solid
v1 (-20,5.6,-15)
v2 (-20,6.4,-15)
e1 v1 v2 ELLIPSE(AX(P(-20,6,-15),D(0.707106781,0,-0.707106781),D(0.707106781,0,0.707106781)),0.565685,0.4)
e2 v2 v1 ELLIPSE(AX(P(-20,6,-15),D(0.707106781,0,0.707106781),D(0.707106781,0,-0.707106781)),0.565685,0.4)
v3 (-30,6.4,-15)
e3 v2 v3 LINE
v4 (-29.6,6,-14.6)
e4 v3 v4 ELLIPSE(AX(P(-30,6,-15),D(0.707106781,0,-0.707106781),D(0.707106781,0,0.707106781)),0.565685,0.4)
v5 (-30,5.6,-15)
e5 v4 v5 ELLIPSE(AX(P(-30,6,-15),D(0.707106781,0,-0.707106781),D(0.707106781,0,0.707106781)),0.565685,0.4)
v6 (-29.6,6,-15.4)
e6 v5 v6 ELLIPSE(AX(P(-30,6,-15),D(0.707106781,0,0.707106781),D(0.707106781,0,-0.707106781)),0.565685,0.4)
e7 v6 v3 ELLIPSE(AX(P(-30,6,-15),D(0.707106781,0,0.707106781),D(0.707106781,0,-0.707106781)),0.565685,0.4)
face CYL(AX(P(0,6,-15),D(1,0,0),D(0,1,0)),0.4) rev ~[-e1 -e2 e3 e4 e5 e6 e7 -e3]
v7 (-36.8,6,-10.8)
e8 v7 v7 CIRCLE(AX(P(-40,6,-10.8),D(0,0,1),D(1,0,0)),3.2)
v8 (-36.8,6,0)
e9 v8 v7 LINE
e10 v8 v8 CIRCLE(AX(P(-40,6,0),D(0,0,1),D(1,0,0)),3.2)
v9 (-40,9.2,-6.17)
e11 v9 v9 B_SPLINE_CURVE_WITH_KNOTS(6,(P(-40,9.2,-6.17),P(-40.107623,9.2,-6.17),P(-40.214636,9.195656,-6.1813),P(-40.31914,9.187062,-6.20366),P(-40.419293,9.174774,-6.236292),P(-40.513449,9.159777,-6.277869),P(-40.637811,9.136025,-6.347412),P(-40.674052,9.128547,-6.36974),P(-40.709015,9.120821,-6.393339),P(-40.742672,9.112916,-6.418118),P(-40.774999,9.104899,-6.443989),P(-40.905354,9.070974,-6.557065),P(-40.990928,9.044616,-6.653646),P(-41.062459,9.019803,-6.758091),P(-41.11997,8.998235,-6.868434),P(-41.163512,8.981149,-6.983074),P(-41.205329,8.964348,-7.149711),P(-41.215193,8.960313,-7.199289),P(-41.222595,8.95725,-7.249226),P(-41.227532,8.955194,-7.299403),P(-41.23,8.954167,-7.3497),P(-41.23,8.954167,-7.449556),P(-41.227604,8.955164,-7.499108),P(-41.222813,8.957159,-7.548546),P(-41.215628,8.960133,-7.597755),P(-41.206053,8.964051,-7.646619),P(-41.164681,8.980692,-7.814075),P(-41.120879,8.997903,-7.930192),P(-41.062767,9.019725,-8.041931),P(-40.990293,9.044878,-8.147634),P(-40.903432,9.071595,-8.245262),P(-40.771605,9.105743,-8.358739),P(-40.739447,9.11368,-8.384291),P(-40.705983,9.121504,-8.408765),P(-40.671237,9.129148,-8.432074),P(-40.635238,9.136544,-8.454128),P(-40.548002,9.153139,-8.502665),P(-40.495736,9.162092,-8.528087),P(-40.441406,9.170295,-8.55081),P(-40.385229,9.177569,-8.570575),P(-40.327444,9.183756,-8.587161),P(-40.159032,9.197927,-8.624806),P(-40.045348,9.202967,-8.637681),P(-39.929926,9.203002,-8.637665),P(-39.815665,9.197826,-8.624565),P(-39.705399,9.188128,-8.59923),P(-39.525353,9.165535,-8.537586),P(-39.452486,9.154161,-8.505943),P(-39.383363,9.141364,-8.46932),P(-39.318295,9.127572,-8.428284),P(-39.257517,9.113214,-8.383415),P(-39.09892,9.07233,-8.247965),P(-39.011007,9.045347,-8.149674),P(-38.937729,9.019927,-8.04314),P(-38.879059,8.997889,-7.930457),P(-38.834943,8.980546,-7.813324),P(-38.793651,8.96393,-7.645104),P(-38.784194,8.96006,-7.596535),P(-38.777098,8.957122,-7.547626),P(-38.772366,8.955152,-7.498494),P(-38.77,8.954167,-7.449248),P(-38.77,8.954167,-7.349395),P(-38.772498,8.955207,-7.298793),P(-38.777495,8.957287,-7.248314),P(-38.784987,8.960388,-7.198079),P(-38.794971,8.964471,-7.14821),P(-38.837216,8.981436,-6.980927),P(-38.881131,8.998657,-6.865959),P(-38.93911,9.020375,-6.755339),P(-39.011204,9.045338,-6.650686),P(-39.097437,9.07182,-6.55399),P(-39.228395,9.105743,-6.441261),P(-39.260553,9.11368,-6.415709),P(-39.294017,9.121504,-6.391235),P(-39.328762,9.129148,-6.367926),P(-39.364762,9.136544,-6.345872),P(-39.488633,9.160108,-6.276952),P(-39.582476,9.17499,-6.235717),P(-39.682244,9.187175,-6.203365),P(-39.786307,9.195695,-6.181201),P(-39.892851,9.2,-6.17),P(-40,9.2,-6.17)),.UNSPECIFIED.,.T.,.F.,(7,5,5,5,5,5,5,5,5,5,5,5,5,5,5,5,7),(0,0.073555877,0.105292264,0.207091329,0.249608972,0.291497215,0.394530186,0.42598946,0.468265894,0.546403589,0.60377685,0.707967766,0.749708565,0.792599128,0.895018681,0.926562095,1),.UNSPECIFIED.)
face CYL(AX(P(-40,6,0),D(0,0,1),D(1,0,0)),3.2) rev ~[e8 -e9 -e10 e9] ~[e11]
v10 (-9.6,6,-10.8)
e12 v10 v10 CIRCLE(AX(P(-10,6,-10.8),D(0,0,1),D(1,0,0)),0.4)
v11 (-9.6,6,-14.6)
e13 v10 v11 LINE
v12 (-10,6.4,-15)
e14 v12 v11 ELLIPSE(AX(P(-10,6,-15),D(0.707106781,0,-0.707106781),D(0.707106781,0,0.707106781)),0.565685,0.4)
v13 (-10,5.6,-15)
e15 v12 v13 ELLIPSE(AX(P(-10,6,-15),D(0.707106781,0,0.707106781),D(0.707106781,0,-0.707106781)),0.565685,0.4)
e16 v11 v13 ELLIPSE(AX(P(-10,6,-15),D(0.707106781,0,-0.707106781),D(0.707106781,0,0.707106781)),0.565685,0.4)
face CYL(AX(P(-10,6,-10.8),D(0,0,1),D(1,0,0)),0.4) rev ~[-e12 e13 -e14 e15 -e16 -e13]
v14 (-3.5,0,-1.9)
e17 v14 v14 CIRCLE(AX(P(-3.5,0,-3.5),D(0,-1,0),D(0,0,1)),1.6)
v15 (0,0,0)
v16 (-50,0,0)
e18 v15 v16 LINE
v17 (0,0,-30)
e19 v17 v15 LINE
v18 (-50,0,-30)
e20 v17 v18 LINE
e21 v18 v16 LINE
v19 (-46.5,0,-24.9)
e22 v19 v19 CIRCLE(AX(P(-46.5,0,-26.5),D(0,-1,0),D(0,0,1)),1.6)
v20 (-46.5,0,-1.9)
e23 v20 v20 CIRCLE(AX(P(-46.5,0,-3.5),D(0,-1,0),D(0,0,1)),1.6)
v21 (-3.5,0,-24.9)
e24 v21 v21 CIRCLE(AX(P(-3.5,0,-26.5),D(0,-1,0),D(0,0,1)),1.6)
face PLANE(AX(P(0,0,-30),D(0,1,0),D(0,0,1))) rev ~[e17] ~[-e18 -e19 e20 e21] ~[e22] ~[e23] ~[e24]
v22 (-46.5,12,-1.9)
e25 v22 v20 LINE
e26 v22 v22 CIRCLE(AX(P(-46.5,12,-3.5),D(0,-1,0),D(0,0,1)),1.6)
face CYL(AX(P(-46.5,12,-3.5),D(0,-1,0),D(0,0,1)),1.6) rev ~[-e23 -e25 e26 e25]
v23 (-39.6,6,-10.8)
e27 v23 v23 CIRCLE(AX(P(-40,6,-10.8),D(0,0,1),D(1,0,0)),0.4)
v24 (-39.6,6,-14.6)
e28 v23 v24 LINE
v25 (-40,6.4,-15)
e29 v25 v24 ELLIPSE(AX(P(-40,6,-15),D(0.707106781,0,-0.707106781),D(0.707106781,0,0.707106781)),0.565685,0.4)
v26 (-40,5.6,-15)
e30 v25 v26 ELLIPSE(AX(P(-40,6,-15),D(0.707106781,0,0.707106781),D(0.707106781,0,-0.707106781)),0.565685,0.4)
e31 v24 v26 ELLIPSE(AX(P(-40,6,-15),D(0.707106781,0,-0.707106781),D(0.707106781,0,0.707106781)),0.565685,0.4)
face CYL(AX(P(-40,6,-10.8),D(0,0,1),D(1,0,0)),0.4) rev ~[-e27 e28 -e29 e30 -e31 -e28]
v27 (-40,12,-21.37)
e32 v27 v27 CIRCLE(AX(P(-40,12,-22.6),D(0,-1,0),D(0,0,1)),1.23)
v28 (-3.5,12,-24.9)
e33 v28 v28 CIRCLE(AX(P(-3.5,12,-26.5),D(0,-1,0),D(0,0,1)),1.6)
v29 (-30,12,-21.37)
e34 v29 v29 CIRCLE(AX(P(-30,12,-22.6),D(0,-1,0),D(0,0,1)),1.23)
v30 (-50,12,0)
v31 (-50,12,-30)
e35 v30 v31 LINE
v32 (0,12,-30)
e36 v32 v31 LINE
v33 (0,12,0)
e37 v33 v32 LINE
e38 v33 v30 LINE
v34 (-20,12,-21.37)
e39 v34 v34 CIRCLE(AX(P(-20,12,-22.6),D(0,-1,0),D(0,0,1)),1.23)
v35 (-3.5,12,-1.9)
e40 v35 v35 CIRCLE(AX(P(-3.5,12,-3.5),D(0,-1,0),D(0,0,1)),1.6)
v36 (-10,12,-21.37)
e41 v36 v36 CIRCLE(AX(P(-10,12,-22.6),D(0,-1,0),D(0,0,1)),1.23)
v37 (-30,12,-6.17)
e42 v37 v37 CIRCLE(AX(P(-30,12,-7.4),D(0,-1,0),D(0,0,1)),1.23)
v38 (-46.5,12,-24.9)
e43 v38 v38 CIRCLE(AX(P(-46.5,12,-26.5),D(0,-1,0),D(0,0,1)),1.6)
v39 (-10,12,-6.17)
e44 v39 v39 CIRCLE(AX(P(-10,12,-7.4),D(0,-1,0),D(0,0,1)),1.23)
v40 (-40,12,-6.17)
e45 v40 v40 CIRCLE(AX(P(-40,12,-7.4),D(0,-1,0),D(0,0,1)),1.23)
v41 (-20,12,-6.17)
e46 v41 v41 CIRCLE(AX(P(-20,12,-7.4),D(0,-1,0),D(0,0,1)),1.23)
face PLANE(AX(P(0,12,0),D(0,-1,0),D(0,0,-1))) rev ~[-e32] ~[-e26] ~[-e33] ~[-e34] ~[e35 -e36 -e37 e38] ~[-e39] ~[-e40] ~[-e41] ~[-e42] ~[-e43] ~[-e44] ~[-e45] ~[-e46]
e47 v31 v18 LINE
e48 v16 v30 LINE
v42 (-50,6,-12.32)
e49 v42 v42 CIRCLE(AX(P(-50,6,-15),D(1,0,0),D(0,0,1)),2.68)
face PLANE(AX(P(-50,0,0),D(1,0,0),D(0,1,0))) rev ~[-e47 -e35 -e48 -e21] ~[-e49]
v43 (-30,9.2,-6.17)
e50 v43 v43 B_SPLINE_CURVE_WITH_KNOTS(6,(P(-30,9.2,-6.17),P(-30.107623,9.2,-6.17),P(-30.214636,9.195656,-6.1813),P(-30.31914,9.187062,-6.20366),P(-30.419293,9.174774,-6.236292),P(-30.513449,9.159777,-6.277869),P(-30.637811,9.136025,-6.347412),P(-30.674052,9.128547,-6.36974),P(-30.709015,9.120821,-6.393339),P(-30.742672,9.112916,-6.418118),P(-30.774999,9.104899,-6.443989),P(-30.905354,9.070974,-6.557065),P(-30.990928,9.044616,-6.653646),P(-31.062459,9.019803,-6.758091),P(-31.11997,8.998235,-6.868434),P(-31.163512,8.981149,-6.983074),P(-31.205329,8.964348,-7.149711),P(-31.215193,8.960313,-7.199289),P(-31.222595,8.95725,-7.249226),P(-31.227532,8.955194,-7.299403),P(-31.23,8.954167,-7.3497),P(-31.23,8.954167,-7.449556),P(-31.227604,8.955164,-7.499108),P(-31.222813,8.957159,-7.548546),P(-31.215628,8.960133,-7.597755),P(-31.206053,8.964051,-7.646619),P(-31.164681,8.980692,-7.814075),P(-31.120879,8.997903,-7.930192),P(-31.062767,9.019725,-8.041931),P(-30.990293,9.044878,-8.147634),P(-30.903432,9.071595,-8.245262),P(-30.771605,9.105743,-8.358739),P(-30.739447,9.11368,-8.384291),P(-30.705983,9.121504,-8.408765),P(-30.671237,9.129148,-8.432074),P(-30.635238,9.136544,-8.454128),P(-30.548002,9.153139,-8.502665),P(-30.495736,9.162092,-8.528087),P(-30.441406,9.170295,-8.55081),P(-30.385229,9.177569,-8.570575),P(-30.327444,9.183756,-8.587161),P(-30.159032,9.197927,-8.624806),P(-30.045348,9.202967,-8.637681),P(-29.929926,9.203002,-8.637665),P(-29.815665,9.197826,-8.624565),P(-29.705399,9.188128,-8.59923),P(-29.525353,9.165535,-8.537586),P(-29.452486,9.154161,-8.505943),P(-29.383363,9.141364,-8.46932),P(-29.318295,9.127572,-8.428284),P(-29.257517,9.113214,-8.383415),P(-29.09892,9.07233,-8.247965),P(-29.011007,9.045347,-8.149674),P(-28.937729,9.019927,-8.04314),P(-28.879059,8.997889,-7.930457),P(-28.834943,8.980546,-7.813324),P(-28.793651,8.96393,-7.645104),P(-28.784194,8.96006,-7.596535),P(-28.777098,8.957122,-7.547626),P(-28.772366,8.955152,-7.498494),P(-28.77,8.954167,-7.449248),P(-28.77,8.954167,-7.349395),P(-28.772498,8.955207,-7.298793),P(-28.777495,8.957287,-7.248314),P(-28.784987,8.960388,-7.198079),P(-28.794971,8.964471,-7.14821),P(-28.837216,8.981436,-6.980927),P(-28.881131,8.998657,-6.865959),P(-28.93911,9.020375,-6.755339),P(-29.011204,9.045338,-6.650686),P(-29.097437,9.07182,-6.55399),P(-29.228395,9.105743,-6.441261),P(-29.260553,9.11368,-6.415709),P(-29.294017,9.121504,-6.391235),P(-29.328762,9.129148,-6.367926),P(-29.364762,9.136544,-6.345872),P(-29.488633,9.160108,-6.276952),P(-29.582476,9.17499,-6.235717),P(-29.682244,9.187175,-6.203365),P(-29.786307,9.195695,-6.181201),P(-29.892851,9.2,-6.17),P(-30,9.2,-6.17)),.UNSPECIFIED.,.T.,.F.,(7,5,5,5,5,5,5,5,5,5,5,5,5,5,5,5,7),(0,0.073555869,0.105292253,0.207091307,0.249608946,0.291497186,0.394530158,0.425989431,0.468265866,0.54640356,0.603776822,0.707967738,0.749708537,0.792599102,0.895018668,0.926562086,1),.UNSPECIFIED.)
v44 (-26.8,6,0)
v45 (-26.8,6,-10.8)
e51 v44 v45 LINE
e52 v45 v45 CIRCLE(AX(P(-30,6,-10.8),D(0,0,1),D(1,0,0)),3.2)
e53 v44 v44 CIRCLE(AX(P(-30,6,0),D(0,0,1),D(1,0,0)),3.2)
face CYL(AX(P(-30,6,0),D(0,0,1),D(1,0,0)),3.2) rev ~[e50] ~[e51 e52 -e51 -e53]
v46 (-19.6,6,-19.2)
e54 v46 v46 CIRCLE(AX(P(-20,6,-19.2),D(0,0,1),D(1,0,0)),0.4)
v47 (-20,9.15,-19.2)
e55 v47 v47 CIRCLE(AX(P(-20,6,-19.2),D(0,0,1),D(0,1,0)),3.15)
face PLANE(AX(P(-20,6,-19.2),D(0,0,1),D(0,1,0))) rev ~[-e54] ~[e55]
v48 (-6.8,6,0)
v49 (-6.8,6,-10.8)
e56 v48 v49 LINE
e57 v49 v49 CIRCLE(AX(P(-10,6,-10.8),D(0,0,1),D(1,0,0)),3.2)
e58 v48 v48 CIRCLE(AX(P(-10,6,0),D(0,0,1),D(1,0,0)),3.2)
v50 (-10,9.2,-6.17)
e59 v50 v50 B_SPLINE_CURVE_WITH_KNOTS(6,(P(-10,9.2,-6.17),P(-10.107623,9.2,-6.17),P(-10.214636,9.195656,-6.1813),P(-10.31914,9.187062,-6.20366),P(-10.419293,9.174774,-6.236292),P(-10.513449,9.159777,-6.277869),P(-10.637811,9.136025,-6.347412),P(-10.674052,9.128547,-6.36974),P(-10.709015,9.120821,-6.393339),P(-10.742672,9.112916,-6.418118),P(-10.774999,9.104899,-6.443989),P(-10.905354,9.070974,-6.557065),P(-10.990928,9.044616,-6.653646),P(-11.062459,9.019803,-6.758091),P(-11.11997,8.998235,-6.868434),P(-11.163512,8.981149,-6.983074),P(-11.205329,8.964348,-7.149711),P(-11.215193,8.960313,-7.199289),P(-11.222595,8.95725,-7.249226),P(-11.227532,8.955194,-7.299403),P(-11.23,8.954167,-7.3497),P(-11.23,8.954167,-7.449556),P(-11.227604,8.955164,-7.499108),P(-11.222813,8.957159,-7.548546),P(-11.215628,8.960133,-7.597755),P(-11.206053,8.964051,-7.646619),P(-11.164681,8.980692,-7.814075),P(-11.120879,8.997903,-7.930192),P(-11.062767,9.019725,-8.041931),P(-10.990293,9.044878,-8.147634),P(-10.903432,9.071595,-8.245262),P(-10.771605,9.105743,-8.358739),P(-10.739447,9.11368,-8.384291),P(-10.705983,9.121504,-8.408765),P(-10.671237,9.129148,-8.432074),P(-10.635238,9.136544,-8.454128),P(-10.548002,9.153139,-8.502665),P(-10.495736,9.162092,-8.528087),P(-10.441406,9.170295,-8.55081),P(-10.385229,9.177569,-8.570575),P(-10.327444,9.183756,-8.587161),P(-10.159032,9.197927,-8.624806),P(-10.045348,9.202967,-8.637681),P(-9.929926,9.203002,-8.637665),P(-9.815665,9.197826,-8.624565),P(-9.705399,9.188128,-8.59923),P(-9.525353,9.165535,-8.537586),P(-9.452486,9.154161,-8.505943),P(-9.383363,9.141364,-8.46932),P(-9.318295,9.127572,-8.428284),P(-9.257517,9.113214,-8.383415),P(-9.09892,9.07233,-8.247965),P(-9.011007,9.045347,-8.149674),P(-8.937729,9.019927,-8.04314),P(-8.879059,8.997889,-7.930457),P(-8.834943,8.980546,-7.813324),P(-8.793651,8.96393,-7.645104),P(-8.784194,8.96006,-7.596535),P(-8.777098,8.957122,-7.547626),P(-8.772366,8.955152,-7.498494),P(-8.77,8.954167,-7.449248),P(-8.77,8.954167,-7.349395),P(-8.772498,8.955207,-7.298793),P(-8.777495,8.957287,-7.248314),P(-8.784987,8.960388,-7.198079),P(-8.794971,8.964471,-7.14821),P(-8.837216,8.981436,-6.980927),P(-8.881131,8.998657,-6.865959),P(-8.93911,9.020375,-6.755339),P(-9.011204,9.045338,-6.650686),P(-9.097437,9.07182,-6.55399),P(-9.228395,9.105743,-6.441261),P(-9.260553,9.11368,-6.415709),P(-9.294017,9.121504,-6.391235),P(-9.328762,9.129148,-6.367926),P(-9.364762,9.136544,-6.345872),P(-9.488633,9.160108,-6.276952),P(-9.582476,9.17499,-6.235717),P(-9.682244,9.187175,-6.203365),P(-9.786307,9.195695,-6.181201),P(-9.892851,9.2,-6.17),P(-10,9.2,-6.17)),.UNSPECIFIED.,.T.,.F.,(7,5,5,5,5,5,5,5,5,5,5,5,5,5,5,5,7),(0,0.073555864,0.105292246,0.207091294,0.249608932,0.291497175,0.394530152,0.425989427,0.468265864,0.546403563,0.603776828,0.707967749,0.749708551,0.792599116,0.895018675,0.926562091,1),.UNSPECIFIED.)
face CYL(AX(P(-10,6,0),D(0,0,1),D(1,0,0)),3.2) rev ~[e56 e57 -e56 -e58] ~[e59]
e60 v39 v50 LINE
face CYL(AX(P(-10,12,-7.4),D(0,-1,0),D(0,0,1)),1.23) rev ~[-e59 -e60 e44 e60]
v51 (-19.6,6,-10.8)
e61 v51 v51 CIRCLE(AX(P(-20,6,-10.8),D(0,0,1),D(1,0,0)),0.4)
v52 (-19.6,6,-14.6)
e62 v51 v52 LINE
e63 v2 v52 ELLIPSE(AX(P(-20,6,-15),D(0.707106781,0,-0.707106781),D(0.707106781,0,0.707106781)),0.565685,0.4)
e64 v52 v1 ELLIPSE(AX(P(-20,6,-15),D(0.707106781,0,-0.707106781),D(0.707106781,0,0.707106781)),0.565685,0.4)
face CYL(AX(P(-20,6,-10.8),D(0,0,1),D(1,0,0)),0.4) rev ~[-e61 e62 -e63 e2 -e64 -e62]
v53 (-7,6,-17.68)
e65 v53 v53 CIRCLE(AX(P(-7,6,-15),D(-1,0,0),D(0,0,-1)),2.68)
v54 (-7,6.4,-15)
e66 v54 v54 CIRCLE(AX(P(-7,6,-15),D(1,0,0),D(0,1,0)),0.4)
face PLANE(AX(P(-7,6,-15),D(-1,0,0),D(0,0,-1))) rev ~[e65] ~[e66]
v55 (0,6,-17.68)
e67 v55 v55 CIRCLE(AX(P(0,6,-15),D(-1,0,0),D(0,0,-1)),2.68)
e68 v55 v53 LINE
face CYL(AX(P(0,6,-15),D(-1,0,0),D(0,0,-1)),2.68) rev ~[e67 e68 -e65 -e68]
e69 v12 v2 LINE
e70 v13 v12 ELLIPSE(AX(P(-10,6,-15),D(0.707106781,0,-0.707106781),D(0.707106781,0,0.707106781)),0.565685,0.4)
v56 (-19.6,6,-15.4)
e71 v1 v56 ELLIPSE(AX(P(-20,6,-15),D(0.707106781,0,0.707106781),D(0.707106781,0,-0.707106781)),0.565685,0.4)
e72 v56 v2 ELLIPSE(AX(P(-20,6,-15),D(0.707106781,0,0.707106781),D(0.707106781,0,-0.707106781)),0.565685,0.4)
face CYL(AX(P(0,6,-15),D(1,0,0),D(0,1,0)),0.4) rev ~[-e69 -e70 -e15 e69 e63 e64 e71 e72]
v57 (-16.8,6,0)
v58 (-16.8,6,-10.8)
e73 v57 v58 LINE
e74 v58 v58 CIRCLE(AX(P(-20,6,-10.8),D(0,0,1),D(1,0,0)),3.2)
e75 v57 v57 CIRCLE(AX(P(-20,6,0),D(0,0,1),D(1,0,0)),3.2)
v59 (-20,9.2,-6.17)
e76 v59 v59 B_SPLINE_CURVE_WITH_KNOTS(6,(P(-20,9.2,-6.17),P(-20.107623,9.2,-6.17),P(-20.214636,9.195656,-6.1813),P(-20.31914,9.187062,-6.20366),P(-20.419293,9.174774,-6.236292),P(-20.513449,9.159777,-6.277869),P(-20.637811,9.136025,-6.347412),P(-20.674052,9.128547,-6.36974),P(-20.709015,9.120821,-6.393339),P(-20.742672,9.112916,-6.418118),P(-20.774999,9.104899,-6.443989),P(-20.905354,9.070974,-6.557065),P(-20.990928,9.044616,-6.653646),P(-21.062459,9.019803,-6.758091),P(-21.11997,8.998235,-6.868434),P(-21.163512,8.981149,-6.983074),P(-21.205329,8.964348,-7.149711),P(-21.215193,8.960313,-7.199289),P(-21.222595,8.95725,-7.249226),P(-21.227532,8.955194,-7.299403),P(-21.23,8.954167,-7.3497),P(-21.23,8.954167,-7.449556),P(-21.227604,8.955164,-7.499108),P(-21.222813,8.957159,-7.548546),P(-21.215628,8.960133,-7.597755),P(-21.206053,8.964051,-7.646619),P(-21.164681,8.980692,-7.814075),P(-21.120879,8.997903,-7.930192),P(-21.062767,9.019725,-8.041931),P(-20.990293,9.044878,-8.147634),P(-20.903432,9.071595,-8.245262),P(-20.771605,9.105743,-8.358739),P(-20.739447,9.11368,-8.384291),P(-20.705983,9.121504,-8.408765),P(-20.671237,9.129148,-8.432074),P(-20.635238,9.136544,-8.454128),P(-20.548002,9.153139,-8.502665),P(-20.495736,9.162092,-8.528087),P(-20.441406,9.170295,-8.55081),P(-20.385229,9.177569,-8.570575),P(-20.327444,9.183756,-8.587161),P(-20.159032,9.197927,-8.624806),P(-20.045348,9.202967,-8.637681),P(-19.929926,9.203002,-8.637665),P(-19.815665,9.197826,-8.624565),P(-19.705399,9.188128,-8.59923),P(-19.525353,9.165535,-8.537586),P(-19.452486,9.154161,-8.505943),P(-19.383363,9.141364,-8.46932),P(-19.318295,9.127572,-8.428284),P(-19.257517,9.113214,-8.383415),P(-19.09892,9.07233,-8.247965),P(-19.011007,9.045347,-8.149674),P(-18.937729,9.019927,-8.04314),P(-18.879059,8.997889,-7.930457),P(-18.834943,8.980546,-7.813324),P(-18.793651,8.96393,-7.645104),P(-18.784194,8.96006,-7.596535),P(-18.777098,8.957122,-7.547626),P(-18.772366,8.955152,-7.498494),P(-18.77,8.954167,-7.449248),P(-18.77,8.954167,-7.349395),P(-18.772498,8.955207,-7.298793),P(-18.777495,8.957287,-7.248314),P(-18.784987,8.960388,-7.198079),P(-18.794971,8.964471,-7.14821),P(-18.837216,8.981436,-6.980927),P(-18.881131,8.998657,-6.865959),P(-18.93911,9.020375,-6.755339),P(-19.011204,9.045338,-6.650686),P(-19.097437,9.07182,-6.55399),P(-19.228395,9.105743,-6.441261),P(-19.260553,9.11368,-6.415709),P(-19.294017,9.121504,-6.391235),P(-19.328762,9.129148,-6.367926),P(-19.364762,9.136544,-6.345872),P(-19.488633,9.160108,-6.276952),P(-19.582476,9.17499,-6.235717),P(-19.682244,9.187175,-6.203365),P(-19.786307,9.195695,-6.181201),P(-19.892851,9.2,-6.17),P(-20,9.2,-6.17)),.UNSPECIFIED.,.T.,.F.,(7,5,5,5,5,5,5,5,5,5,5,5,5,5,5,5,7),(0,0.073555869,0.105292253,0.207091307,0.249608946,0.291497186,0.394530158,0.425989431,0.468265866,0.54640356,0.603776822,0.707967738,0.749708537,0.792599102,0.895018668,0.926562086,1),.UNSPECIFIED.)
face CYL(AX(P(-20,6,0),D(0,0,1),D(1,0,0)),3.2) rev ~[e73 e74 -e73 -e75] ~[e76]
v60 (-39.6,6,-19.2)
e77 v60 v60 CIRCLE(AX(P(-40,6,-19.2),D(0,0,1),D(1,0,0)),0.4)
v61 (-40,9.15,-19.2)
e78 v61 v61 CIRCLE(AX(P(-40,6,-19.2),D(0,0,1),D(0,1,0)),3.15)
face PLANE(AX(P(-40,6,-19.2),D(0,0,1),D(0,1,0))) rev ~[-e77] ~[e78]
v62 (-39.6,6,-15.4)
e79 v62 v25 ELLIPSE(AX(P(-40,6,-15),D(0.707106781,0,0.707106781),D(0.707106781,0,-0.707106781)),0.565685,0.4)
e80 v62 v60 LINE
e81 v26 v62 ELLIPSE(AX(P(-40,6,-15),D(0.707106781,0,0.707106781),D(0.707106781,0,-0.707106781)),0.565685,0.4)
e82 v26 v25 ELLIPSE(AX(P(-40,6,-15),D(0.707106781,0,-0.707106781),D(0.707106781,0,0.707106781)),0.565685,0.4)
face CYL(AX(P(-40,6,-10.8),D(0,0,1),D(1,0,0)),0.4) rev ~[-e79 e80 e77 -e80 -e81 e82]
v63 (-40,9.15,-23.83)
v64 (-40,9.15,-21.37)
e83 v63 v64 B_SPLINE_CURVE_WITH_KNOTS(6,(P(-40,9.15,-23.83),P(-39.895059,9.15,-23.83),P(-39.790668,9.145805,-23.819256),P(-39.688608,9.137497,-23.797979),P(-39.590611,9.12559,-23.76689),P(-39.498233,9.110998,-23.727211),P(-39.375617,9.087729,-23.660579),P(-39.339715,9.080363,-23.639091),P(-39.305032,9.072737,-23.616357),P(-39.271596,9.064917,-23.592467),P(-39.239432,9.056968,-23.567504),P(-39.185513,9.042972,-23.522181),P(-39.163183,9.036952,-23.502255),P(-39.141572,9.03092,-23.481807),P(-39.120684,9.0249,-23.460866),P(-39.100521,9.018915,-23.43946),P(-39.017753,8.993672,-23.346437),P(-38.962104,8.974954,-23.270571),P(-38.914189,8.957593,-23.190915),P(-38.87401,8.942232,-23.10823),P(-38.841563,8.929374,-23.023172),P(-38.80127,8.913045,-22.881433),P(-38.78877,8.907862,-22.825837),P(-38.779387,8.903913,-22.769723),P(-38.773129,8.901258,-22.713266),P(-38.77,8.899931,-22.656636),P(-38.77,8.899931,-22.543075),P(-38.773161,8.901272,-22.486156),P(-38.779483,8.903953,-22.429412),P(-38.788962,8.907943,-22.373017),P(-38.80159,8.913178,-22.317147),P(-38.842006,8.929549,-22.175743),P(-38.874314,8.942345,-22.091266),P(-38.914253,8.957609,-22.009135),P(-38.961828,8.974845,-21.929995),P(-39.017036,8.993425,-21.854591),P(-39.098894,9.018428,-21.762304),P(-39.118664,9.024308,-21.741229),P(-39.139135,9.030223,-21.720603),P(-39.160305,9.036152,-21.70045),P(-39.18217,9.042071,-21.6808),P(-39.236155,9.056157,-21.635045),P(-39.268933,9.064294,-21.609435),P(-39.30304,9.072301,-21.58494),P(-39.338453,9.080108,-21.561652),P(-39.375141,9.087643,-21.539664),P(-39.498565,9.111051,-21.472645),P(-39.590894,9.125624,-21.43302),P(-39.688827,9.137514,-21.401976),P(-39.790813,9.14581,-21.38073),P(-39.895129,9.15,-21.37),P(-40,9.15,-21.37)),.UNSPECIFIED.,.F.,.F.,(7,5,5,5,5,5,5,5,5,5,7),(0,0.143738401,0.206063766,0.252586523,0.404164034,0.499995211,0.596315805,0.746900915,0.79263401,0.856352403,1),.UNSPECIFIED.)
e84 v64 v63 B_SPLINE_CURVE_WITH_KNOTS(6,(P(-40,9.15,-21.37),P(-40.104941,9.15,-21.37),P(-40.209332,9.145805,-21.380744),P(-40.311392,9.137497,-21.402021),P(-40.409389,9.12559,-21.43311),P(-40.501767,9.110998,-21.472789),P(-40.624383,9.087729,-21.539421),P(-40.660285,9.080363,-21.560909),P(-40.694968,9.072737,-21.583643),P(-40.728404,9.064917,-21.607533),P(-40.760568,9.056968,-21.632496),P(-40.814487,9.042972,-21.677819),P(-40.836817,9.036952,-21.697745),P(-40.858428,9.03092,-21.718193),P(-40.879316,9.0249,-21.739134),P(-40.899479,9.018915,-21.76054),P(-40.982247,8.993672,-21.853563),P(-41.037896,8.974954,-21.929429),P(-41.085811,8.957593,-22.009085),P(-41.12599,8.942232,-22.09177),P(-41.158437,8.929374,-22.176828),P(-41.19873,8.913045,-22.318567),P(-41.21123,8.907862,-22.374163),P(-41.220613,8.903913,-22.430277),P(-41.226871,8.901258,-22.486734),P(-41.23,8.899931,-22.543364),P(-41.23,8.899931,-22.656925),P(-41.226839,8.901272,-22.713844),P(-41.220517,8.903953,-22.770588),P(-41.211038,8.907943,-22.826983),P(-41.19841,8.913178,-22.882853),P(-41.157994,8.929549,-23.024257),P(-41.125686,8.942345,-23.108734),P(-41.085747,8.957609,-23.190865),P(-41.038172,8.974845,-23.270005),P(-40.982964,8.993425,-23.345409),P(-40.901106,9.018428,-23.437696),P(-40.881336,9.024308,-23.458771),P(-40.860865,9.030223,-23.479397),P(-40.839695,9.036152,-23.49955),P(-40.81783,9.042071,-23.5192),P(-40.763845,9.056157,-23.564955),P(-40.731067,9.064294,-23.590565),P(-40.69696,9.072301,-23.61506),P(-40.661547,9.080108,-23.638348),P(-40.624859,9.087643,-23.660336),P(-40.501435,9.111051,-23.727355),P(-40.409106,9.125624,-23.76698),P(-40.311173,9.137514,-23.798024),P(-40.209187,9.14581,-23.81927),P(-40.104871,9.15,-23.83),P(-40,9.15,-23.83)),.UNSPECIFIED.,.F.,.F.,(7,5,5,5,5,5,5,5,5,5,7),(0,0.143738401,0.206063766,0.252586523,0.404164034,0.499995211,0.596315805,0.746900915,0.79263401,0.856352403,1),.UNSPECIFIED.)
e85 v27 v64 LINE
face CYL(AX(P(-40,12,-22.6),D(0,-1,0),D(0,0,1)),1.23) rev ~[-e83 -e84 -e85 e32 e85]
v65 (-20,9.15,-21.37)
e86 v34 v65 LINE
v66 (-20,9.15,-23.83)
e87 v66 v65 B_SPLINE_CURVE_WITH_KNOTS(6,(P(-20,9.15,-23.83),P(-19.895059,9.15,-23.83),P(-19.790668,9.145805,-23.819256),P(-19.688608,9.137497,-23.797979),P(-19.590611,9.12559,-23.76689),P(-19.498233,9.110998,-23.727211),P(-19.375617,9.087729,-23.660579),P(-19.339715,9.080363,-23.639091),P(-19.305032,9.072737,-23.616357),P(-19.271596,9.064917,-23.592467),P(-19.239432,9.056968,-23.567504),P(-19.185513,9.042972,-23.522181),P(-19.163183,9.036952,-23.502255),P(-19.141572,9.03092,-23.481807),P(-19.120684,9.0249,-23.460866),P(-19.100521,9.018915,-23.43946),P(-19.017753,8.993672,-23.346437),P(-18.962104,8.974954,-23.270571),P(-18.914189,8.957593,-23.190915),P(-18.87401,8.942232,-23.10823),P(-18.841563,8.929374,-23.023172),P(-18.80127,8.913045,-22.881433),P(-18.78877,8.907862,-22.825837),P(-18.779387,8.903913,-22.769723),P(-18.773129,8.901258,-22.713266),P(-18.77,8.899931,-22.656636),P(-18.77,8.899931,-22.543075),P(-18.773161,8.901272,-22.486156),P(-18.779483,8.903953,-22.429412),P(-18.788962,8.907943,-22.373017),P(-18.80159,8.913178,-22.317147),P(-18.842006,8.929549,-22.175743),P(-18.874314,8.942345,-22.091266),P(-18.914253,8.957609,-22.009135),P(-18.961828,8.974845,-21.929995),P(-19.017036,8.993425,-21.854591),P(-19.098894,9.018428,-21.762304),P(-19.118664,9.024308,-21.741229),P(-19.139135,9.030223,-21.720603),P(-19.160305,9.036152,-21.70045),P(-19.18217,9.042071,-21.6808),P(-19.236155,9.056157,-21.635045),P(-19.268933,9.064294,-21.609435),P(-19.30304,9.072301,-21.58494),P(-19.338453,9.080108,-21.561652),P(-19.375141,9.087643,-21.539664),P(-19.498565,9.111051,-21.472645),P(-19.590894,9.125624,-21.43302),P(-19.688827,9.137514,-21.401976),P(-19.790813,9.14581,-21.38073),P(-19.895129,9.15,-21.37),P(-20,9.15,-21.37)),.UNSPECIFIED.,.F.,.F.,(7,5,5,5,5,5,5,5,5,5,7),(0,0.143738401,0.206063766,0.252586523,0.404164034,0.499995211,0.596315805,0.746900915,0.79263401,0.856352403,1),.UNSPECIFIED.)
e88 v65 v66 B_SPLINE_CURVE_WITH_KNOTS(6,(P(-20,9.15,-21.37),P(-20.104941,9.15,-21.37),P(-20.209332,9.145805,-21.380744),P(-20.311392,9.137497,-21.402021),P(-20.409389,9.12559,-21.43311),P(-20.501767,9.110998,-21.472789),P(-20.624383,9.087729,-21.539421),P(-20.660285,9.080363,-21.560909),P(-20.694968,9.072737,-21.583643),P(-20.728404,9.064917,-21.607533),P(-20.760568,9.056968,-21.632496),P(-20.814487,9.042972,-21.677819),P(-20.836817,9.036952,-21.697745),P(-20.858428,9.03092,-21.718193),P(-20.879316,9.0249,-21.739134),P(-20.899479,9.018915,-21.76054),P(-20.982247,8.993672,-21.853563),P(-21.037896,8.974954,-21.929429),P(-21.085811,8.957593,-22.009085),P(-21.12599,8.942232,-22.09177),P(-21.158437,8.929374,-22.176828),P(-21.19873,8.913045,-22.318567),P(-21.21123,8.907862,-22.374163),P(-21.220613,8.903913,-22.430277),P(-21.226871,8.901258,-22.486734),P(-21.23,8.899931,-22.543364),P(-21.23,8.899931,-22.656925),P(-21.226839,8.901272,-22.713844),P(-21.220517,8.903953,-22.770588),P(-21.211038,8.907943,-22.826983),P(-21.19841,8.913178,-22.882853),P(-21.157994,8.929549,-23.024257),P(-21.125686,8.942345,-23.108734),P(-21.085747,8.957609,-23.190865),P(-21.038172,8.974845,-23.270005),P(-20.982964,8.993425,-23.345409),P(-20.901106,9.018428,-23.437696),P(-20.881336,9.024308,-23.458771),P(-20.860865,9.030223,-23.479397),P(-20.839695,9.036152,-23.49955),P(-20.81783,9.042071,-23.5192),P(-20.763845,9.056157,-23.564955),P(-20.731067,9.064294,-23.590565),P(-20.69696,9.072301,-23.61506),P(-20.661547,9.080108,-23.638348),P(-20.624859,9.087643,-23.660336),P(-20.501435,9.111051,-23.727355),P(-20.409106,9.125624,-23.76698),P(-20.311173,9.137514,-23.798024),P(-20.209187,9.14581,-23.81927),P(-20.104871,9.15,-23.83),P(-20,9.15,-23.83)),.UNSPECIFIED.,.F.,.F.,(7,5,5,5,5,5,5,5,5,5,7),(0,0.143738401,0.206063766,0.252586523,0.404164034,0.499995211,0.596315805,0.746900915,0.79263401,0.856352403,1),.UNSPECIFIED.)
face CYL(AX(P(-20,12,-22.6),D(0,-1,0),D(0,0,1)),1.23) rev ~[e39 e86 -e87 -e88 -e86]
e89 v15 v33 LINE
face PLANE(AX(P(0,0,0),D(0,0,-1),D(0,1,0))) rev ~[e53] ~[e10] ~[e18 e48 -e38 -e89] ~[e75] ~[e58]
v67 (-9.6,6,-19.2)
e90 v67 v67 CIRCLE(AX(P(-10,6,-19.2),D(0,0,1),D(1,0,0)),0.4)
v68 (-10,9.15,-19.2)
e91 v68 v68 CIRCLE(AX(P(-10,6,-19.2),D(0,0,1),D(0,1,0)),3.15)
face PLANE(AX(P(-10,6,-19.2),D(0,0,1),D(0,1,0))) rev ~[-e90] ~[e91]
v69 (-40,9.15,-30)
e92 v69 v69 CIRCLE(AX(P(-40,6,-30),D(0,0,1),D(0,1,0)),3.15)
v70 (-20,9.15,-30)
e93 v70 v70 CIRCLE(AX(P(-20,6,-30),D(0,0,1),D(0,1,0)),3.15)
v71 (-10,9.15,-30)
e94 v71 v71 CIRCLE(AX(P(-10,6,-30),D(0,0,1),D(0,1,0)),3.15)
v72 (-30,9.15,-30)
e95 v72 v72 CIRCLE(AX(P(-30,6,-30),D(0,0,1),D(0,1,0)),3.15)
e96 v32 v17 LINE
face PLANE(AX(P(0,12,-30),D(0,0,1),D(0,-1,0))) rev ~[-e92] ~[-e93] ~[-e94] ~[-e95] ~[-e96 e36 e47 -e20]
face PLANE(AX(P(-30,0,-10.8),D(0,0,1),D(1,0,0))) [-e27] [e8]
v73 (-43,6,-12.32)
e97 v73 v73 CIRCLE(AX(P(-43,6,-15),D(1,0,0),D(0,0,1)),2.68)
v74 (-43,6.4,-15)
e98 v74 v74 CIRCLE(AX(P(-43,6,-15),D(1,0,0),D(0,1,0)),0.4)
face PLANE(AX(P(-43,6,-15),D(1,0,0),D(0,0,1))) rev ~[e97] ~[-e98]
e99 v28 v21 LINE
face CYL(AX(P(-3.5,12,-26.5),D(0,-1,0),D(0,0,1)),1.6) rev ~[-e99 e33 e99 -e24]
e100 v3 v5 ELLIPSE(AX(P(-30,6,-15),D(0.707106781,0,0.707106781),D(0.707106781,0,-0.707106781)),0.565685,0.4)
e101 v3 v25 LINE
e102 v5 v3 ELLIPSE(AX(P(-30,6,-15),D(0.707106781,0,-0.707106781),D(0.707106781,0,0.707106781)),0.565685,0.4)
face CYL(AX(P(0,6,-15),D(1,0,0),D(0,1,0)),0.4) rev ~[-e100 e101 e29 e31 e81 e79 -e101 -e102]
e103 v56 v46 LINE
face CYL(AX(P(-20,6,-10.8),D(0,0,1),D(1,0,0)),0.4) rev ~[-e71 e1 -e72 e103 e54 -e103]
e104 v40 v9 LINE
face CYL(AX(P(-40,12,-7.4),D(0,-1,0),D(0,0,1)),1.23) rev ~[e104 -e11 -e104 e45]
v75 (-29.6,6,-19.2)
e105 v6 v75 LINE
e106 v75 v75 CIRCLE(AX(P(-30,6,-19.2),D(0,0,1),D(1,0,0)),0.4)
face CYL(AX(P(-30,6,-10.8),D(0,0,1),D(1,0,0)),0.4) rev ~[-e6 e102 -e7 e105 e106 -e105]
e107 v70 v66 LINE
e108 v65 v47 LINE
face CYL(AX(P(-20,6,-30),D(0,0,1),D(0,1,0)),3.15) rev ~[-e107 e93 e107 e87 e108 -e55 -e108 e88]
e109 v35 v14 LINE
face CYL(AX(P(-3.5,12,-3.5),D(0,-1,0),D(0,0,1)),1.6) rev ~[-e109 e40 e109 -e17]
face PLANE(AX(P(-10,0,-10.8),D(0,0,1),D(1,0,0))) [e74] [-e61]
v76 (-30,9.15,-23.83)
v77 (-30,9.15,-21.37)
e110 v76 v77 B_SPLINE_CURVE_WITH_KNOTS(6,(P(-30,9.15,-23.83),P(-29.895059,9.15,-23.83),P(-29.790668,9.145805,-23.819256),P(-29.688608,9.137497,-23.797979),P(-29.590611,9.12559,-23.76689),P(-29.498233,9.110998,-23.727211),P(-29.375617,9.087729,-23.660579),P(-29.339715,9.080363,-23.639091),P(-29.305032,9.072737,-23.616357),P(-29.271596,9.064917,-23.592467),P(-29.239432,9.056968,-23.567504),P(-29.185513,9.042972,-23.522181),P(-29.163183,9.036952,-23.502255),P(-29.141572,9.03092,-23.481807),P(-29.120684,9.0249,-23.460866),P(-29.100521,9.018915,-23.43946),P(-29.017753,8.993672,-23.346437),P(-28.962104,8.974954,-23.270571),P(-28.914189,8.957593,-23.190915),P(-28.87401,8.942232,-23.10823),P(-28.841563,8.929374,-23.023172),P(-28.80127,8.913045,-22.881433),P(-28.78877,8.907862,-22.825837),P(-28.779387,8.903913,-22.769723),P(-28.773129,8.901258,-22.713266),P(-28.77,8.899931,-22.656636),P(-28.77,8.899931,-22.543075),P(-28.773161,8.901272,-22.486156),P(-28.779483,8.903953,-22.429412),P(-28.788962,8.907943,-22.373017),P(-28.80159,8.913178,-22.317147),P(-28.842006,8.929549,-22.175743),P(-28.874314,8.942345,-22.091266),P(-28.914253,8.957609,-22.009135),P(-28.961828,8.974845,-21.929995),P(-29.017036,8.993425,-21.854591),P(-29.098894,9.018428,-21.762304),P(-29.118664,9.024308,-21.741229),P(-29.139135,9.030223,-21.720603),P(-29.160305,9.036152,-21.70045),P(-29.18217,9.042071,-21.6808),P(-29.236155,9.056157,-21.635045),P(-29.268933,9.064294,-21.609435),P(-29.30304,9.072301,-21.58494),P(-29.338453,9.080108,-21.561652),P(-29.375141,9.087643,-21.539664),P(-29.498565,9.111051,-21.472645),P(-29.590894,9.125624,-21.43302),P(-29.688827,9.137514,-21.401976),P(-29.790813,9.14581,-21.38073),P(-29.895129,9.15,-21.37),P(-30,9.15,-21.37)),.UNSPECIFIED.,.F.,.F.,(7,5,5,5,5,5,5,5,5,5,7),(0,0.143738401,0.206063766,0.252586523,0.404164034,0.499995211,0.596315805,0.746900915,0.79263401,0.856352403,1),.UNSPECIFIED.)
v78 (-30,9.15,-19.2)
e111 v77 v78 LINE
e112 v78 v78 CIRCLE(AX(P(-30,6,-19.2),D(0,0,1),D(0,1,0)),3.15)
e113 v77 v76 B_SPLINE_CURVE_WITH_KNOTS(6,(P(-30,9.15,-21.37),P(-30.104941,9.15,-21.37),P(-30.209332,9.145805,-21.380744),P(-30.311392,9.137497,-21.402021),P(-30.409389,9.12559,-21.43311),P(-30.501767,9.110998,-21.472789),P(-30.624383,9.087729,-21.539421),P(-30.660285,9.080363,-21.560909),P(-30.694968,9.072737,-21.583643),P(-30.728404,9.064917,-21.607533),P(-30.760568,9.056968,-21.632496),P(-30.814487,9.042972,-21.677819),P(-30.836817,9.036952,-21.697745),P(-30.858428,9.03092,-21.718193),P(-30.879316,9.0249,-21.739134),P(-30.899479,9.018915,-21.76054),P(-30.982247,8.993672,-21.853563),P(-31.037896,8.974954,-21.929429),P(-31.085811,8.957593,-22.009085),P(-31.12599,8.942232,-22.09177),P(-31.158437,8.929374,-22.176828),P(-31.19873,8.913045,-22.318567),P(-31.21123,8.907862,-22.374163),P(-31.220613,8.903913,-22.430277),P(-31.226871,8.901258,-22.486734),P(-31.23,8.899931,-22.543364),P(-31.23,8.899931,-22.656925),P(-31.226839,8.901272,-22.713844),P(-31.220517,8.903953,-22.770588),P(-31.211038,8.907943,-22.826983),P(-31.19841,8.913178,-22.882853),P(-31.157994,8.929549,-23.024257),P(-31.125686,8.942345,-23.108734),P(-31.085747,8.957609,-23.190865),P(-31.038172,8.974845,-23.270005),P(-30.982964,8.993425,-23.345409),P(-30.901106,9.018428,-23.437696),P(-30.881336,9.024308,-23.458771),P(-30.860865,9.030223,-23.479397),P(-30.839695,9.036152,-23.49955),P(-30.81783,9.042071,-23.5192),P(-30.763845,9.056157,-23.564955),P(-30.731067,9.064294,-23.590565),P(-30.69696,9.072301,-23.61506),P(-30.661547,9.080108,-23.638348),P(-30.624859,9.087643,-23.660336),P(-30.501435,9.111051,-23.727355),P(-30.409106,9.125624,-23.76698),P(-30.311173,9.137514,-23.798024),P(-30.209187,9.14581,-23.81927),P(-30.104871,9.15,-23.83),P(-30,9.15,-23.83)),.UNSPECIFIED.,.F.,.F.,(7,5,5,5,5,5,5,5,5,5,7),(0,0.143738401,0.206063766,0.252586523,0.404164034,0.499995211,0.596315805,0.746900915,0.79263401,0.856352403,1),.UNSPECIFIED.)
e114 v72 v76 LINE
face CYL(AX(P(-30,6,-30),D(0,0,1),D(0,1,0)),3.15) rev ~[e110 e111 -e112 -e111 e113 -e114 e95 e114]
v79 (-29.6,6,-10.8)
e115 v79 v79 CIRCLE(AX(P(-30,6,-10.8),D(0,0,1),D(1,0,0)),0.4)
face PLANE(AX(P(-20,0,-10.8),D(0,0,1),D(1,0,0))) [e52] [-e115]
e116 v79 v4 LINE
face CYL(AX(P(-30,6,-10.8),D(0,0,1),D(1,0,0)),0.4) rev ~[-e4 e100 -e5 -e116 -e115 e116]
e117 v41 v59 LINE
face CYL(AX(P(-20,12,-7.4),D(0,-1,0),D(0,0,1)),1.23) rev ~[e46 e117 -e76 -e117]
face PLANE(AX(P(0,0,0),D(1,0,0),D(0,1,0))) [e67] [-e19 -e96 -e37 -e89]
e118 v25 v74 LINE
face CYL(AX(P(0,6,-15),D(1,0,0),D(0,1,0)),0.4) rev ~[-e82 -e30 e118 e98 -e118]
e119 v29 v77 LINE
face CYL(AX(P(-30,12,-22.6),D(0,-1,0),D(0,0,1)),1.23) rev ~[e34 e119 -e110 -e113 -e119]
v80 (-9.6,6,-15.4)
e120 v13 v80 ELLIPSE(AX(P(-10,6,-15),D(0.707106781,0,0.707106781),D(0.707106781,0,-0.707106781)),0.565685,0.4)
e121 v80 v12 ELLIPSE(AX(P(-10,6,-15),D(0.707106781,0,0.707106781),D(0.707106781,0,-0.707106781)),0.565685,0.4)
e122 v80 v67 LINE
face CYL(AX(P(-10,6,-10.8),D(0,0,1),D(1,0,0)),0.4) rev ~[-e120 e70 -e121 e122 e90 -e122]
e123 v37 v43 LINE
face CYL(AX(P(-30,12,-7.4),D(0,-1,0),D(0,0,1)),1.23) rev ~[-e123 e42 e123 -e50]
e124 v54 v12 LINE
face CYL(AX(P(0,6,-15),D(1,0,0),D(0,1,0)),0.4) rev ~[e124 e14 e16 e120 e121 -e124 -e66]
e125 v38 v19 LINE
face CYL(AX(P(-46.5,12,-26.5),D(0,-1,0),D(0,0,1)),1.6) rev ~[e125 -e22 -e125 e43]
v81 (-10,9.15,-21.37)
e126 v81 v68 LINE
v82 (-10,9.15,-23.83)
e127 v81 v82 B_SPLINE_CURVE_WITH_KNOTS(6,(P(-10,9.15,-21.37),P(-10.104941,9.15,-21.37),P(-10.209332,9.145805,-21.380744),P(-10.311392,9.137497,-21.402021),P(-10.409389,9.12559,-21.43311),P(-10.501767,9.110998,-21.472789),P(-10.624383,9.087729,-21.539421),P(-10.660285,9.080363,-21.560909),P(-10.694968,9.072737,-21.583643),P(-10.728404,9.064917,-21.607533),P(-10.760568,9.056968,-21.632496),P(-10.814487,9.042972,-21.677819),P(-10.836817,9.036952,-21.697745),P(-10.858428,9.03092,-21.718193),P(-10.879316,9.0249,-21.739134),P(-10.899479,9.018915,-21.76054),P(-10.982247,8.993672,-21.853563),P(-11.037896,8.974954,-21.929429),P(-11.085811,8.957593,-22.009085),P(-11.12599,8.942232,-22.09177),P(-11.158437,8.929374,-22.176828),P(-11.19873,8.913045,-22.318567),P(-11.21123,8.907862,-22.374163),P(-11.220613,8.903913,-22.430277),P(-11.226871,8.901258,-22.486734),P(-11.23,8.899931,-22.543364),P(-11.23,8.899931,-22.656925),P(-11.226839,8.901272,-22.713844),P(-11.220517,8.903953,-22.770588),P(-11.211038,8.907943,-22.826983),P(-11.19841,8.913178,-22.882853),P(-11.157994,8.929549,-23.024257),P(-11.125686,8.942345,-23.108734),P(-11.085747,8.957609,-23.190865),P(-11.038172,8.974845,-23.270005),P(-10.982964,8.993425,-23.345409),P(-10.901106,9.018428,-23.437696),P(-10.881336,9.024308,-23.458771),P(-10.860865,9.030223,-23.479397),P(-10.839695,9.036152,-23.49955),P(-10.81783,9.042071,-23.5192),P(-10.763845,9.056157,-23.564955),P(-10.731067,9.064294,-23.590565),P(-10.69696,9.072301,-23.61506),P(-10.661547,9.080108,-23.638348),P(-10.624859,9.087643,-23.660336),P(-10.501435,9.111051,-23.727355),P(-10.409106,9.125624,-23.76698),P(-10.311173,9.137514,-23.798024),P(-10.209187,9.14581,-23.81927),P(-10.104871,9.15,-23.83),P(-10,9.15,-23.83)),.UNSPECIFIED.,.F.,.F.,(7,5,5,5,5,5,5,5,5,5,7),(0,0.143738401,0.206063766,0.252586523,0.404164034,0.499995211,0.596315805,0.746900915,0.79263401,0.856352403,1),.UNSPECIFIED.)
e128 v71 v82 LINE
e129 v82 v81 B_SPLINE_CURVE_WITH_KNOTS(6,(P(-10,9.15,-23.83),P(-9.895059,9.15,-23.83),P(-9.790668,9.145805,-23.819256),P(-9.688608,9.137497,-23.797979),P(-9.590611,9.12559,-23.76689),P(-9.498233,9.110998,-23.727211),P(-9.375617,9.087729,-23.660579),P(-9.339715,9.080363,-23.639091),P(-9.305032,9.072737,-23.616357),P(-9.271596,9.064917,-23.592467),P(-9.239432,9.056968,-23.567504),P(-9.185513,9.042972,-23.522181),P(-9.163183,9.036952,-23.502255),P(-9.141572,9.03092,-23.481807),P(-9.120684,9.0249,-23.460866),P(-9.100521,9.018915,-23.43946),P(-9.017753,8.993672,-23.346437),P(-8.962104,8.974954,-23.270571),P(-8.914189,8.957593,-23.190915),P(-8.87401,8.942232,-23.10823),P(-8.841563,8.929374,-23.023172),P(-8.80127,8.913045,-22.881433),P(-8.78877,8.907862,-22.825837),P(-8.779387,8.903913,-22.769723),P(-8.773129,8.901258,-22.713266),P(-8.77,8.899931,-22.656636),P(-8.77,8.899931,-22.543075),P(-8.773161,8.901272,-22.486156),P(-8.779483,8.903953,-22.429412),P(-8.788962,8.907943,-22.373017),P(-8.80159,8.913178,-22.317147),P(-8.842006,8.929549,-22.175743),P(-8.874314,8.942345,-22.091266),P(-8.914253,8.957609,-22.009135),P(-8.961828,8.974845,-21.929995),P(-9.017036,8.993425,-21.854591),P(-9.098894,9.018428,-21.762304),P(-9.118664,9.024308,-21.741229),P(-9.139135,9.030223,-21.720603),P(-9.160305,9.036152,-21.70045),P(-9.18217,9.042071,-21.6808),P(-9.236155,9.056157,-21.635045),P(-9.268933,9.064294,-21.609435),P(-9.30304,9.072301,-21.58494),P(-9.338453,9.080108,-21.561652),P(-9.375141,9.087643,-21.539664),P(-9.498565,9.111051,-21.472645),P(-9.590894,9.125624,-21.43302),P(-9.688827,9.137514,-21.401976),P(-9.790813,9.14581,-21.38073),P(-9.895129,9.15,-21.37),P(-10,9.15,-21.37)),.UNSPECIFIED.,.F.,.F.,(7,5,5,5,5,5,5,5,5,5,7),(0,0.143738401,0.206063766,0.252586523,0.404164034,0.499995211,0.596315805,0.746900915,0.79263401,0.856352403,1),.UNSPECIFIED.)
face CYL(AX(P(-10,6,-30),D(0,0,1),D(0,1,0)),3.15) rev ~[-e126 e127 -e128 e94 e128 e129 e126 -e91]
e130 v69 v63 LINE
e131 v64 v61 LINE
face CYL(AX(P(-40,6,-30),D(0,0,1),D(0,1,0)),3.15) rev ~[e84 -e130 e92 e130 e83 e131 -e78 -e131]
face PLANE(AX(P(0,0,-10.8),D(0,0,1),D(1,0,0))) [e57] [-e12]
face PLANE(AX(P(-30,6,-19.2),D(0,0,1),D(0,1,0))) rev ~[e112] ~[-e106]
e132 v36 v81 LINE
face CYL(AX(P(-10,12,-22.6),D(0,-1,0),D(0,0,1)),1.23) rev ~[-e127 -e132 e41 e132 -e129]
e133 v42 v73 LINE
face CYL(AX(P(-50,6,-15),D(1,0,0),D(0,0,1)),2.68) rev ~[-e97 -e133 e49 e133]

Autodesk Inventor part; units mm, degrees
sketch "Sketch1" plane through (0, 0, 0) normal (1, 0, 0) x (0, 1, 0)
  line L0 (0, 0) -> (12, 0)
  line L1 (12, 0) -> (12, -30)
  line L2 (12, -30) -> (0, -30)
  line L3 (0, -30) -> (0, 0)
  circle A0 centre (6, -15) radius 0.4
  dimension "d0" = 30
  dimension "d1" = 12
  dimension "d2" = 6
  dimension "d3" = 15
  dimension "d4" = 0.8
extrude "Extrusion1" add sketch "Sketch1" against normal blind 50
ref_plane "Work Plane1" through (0, 0, -15) normal (0, 0, 1) x (1, 0, 0)
sketch "Sketch2" plane through (0, 0, 0) normal (0, 0, 1) x (1, 0, 0)
  line L0 (0, 0) -> (-50, 0) projected
  line L1 (0, 0) -> (0, 12) projected
  circle A0 centre (-10, 6) radius 3.2
  dimension "d7" = 6.4
  dimension "d8" = 6
  dimension "d9" = 10
extrude "Extrusion4" cut sketch "Sketch2" against normal blind 10.8
pattern_linear "Rectangular Pattern1" count 4 spacing 10 along (-1, 0, 0) of "Extrusion4"
ref_plane "Work Plane2" through (0, 6, -14.6) normal (0, 0, 1) x (1, 0, 0)
sketch "Sketch3" plane through (-10, 6, -10.8) normal (0, 0, 1) x (1, 0, 0)
  circle A0 centre (0, 0) radius 0.4
  circle A1 centre (0, 0) radius 3.2 projected
  point P0 (10, -6)
  dimension "d20" = 0.8
extrude "Extrusion5" cut sketch "Sketch3" against normal blind 10 contours A0
pattern_linear "Rectangular Pattern2" count 4 spacing 10 along (-1, 0, 0) of "Extrusion5"
ref_plane "Work Plane3" through (0, 6, -30) normal (0, -1, 0) x (1, 0, 0)
sketch "Sketch4" plane through (0, 12, 0) normal (0, 1, 0) x (1, 0, 0)
  line L0 (0, 0) -> (0, 30) projected
  line L1 (0, 0) -> (-50, 0) projected
  circle A0 centre (-10, 7.4) radius 0.4
  circle A1 centre (-3.5, 3.5) radius 1.6
  dimension "d26" = 0.8
  dimension "d27" = 7.4
  dimension "d28" = 10
  dimension "d93" = 3.2
  dimension "d94" = 3.5
  dimension "d95" = 3.5
hole "Hole1" at (-10, 12, -7.4) direction (0, -1, 0) diameter 2.46 depth 7 thread size "M3x0.5" class "6H" standard "ANSI Metric M Profile"
pattern_linear "Rectangular Pattern4" count 4 spacing 10 along (-1, 0, 0) count 2 spacing 15.2 along (0, 0, -1) of "Hole1"
sketch "Sketch5" plane through (0, 0, -30) normal (0, 0, -1) x (-1, 0, 0)
  circle A0 centre (10, 6) radius 3.2
  line L0 (0, 12) -> (50, 12) projected
  line L1 (0, 12) -> (0, 0) projected
  dimension "d47" = 6.4
  dimension "d48" = 6
  dimension "d49" = 10
hole "Hole2" at (-10, 6, -30) direction (0, 0, 1) diameter 6.3 depth 10.8
pattern_linear "Rectangular Pattern5" count 4 spacing 10 along (-1, 0, 0) of "Hole2", "Extrusion4"
hole "Hole3" at (0, 6, -15) direction (-1, 0, 0) diameter 5.36 depth 7 thread size "1/4-28 UNF" class "2B" standard "ANSI Unified Screw Threads"
sketch "Sketch6" plane through (-50, 0, 0) normal (-1, 0, 0) x (0, 0, 1)
  circle A0 centre (-15, 6) radius 2.15
  line L0 (-30, 0) -> (0, 0) projected
  dimension "d67" = 15
  dimension "d68" = 6
  dimension "d69" = 4.3
hole "Hole4" at (-50, 6, -15) direction (1, 0, 0) diameter 5.36 depth 7 thread size "1/4-28 UNF" class "2B" standard "ANSI Unified Screw Threads"
hole "Hole5" at (-3.5, 12, -3.5) direction (0, -1, 0) diameter 3.2 end through all
pattern_linear "Rectangular Pattern6" count 2 spacing 43 along (-1, 0, 0) count 2 spacing 23 along (0, 0, -1) of "Hole5"
equation "\"d2\" = 0.5 * d1"
equation "\"d3\" = 0.5 * d0"
equation "\"d8\" = 0.5 * d1"
properties part number "Manifold_v4"
